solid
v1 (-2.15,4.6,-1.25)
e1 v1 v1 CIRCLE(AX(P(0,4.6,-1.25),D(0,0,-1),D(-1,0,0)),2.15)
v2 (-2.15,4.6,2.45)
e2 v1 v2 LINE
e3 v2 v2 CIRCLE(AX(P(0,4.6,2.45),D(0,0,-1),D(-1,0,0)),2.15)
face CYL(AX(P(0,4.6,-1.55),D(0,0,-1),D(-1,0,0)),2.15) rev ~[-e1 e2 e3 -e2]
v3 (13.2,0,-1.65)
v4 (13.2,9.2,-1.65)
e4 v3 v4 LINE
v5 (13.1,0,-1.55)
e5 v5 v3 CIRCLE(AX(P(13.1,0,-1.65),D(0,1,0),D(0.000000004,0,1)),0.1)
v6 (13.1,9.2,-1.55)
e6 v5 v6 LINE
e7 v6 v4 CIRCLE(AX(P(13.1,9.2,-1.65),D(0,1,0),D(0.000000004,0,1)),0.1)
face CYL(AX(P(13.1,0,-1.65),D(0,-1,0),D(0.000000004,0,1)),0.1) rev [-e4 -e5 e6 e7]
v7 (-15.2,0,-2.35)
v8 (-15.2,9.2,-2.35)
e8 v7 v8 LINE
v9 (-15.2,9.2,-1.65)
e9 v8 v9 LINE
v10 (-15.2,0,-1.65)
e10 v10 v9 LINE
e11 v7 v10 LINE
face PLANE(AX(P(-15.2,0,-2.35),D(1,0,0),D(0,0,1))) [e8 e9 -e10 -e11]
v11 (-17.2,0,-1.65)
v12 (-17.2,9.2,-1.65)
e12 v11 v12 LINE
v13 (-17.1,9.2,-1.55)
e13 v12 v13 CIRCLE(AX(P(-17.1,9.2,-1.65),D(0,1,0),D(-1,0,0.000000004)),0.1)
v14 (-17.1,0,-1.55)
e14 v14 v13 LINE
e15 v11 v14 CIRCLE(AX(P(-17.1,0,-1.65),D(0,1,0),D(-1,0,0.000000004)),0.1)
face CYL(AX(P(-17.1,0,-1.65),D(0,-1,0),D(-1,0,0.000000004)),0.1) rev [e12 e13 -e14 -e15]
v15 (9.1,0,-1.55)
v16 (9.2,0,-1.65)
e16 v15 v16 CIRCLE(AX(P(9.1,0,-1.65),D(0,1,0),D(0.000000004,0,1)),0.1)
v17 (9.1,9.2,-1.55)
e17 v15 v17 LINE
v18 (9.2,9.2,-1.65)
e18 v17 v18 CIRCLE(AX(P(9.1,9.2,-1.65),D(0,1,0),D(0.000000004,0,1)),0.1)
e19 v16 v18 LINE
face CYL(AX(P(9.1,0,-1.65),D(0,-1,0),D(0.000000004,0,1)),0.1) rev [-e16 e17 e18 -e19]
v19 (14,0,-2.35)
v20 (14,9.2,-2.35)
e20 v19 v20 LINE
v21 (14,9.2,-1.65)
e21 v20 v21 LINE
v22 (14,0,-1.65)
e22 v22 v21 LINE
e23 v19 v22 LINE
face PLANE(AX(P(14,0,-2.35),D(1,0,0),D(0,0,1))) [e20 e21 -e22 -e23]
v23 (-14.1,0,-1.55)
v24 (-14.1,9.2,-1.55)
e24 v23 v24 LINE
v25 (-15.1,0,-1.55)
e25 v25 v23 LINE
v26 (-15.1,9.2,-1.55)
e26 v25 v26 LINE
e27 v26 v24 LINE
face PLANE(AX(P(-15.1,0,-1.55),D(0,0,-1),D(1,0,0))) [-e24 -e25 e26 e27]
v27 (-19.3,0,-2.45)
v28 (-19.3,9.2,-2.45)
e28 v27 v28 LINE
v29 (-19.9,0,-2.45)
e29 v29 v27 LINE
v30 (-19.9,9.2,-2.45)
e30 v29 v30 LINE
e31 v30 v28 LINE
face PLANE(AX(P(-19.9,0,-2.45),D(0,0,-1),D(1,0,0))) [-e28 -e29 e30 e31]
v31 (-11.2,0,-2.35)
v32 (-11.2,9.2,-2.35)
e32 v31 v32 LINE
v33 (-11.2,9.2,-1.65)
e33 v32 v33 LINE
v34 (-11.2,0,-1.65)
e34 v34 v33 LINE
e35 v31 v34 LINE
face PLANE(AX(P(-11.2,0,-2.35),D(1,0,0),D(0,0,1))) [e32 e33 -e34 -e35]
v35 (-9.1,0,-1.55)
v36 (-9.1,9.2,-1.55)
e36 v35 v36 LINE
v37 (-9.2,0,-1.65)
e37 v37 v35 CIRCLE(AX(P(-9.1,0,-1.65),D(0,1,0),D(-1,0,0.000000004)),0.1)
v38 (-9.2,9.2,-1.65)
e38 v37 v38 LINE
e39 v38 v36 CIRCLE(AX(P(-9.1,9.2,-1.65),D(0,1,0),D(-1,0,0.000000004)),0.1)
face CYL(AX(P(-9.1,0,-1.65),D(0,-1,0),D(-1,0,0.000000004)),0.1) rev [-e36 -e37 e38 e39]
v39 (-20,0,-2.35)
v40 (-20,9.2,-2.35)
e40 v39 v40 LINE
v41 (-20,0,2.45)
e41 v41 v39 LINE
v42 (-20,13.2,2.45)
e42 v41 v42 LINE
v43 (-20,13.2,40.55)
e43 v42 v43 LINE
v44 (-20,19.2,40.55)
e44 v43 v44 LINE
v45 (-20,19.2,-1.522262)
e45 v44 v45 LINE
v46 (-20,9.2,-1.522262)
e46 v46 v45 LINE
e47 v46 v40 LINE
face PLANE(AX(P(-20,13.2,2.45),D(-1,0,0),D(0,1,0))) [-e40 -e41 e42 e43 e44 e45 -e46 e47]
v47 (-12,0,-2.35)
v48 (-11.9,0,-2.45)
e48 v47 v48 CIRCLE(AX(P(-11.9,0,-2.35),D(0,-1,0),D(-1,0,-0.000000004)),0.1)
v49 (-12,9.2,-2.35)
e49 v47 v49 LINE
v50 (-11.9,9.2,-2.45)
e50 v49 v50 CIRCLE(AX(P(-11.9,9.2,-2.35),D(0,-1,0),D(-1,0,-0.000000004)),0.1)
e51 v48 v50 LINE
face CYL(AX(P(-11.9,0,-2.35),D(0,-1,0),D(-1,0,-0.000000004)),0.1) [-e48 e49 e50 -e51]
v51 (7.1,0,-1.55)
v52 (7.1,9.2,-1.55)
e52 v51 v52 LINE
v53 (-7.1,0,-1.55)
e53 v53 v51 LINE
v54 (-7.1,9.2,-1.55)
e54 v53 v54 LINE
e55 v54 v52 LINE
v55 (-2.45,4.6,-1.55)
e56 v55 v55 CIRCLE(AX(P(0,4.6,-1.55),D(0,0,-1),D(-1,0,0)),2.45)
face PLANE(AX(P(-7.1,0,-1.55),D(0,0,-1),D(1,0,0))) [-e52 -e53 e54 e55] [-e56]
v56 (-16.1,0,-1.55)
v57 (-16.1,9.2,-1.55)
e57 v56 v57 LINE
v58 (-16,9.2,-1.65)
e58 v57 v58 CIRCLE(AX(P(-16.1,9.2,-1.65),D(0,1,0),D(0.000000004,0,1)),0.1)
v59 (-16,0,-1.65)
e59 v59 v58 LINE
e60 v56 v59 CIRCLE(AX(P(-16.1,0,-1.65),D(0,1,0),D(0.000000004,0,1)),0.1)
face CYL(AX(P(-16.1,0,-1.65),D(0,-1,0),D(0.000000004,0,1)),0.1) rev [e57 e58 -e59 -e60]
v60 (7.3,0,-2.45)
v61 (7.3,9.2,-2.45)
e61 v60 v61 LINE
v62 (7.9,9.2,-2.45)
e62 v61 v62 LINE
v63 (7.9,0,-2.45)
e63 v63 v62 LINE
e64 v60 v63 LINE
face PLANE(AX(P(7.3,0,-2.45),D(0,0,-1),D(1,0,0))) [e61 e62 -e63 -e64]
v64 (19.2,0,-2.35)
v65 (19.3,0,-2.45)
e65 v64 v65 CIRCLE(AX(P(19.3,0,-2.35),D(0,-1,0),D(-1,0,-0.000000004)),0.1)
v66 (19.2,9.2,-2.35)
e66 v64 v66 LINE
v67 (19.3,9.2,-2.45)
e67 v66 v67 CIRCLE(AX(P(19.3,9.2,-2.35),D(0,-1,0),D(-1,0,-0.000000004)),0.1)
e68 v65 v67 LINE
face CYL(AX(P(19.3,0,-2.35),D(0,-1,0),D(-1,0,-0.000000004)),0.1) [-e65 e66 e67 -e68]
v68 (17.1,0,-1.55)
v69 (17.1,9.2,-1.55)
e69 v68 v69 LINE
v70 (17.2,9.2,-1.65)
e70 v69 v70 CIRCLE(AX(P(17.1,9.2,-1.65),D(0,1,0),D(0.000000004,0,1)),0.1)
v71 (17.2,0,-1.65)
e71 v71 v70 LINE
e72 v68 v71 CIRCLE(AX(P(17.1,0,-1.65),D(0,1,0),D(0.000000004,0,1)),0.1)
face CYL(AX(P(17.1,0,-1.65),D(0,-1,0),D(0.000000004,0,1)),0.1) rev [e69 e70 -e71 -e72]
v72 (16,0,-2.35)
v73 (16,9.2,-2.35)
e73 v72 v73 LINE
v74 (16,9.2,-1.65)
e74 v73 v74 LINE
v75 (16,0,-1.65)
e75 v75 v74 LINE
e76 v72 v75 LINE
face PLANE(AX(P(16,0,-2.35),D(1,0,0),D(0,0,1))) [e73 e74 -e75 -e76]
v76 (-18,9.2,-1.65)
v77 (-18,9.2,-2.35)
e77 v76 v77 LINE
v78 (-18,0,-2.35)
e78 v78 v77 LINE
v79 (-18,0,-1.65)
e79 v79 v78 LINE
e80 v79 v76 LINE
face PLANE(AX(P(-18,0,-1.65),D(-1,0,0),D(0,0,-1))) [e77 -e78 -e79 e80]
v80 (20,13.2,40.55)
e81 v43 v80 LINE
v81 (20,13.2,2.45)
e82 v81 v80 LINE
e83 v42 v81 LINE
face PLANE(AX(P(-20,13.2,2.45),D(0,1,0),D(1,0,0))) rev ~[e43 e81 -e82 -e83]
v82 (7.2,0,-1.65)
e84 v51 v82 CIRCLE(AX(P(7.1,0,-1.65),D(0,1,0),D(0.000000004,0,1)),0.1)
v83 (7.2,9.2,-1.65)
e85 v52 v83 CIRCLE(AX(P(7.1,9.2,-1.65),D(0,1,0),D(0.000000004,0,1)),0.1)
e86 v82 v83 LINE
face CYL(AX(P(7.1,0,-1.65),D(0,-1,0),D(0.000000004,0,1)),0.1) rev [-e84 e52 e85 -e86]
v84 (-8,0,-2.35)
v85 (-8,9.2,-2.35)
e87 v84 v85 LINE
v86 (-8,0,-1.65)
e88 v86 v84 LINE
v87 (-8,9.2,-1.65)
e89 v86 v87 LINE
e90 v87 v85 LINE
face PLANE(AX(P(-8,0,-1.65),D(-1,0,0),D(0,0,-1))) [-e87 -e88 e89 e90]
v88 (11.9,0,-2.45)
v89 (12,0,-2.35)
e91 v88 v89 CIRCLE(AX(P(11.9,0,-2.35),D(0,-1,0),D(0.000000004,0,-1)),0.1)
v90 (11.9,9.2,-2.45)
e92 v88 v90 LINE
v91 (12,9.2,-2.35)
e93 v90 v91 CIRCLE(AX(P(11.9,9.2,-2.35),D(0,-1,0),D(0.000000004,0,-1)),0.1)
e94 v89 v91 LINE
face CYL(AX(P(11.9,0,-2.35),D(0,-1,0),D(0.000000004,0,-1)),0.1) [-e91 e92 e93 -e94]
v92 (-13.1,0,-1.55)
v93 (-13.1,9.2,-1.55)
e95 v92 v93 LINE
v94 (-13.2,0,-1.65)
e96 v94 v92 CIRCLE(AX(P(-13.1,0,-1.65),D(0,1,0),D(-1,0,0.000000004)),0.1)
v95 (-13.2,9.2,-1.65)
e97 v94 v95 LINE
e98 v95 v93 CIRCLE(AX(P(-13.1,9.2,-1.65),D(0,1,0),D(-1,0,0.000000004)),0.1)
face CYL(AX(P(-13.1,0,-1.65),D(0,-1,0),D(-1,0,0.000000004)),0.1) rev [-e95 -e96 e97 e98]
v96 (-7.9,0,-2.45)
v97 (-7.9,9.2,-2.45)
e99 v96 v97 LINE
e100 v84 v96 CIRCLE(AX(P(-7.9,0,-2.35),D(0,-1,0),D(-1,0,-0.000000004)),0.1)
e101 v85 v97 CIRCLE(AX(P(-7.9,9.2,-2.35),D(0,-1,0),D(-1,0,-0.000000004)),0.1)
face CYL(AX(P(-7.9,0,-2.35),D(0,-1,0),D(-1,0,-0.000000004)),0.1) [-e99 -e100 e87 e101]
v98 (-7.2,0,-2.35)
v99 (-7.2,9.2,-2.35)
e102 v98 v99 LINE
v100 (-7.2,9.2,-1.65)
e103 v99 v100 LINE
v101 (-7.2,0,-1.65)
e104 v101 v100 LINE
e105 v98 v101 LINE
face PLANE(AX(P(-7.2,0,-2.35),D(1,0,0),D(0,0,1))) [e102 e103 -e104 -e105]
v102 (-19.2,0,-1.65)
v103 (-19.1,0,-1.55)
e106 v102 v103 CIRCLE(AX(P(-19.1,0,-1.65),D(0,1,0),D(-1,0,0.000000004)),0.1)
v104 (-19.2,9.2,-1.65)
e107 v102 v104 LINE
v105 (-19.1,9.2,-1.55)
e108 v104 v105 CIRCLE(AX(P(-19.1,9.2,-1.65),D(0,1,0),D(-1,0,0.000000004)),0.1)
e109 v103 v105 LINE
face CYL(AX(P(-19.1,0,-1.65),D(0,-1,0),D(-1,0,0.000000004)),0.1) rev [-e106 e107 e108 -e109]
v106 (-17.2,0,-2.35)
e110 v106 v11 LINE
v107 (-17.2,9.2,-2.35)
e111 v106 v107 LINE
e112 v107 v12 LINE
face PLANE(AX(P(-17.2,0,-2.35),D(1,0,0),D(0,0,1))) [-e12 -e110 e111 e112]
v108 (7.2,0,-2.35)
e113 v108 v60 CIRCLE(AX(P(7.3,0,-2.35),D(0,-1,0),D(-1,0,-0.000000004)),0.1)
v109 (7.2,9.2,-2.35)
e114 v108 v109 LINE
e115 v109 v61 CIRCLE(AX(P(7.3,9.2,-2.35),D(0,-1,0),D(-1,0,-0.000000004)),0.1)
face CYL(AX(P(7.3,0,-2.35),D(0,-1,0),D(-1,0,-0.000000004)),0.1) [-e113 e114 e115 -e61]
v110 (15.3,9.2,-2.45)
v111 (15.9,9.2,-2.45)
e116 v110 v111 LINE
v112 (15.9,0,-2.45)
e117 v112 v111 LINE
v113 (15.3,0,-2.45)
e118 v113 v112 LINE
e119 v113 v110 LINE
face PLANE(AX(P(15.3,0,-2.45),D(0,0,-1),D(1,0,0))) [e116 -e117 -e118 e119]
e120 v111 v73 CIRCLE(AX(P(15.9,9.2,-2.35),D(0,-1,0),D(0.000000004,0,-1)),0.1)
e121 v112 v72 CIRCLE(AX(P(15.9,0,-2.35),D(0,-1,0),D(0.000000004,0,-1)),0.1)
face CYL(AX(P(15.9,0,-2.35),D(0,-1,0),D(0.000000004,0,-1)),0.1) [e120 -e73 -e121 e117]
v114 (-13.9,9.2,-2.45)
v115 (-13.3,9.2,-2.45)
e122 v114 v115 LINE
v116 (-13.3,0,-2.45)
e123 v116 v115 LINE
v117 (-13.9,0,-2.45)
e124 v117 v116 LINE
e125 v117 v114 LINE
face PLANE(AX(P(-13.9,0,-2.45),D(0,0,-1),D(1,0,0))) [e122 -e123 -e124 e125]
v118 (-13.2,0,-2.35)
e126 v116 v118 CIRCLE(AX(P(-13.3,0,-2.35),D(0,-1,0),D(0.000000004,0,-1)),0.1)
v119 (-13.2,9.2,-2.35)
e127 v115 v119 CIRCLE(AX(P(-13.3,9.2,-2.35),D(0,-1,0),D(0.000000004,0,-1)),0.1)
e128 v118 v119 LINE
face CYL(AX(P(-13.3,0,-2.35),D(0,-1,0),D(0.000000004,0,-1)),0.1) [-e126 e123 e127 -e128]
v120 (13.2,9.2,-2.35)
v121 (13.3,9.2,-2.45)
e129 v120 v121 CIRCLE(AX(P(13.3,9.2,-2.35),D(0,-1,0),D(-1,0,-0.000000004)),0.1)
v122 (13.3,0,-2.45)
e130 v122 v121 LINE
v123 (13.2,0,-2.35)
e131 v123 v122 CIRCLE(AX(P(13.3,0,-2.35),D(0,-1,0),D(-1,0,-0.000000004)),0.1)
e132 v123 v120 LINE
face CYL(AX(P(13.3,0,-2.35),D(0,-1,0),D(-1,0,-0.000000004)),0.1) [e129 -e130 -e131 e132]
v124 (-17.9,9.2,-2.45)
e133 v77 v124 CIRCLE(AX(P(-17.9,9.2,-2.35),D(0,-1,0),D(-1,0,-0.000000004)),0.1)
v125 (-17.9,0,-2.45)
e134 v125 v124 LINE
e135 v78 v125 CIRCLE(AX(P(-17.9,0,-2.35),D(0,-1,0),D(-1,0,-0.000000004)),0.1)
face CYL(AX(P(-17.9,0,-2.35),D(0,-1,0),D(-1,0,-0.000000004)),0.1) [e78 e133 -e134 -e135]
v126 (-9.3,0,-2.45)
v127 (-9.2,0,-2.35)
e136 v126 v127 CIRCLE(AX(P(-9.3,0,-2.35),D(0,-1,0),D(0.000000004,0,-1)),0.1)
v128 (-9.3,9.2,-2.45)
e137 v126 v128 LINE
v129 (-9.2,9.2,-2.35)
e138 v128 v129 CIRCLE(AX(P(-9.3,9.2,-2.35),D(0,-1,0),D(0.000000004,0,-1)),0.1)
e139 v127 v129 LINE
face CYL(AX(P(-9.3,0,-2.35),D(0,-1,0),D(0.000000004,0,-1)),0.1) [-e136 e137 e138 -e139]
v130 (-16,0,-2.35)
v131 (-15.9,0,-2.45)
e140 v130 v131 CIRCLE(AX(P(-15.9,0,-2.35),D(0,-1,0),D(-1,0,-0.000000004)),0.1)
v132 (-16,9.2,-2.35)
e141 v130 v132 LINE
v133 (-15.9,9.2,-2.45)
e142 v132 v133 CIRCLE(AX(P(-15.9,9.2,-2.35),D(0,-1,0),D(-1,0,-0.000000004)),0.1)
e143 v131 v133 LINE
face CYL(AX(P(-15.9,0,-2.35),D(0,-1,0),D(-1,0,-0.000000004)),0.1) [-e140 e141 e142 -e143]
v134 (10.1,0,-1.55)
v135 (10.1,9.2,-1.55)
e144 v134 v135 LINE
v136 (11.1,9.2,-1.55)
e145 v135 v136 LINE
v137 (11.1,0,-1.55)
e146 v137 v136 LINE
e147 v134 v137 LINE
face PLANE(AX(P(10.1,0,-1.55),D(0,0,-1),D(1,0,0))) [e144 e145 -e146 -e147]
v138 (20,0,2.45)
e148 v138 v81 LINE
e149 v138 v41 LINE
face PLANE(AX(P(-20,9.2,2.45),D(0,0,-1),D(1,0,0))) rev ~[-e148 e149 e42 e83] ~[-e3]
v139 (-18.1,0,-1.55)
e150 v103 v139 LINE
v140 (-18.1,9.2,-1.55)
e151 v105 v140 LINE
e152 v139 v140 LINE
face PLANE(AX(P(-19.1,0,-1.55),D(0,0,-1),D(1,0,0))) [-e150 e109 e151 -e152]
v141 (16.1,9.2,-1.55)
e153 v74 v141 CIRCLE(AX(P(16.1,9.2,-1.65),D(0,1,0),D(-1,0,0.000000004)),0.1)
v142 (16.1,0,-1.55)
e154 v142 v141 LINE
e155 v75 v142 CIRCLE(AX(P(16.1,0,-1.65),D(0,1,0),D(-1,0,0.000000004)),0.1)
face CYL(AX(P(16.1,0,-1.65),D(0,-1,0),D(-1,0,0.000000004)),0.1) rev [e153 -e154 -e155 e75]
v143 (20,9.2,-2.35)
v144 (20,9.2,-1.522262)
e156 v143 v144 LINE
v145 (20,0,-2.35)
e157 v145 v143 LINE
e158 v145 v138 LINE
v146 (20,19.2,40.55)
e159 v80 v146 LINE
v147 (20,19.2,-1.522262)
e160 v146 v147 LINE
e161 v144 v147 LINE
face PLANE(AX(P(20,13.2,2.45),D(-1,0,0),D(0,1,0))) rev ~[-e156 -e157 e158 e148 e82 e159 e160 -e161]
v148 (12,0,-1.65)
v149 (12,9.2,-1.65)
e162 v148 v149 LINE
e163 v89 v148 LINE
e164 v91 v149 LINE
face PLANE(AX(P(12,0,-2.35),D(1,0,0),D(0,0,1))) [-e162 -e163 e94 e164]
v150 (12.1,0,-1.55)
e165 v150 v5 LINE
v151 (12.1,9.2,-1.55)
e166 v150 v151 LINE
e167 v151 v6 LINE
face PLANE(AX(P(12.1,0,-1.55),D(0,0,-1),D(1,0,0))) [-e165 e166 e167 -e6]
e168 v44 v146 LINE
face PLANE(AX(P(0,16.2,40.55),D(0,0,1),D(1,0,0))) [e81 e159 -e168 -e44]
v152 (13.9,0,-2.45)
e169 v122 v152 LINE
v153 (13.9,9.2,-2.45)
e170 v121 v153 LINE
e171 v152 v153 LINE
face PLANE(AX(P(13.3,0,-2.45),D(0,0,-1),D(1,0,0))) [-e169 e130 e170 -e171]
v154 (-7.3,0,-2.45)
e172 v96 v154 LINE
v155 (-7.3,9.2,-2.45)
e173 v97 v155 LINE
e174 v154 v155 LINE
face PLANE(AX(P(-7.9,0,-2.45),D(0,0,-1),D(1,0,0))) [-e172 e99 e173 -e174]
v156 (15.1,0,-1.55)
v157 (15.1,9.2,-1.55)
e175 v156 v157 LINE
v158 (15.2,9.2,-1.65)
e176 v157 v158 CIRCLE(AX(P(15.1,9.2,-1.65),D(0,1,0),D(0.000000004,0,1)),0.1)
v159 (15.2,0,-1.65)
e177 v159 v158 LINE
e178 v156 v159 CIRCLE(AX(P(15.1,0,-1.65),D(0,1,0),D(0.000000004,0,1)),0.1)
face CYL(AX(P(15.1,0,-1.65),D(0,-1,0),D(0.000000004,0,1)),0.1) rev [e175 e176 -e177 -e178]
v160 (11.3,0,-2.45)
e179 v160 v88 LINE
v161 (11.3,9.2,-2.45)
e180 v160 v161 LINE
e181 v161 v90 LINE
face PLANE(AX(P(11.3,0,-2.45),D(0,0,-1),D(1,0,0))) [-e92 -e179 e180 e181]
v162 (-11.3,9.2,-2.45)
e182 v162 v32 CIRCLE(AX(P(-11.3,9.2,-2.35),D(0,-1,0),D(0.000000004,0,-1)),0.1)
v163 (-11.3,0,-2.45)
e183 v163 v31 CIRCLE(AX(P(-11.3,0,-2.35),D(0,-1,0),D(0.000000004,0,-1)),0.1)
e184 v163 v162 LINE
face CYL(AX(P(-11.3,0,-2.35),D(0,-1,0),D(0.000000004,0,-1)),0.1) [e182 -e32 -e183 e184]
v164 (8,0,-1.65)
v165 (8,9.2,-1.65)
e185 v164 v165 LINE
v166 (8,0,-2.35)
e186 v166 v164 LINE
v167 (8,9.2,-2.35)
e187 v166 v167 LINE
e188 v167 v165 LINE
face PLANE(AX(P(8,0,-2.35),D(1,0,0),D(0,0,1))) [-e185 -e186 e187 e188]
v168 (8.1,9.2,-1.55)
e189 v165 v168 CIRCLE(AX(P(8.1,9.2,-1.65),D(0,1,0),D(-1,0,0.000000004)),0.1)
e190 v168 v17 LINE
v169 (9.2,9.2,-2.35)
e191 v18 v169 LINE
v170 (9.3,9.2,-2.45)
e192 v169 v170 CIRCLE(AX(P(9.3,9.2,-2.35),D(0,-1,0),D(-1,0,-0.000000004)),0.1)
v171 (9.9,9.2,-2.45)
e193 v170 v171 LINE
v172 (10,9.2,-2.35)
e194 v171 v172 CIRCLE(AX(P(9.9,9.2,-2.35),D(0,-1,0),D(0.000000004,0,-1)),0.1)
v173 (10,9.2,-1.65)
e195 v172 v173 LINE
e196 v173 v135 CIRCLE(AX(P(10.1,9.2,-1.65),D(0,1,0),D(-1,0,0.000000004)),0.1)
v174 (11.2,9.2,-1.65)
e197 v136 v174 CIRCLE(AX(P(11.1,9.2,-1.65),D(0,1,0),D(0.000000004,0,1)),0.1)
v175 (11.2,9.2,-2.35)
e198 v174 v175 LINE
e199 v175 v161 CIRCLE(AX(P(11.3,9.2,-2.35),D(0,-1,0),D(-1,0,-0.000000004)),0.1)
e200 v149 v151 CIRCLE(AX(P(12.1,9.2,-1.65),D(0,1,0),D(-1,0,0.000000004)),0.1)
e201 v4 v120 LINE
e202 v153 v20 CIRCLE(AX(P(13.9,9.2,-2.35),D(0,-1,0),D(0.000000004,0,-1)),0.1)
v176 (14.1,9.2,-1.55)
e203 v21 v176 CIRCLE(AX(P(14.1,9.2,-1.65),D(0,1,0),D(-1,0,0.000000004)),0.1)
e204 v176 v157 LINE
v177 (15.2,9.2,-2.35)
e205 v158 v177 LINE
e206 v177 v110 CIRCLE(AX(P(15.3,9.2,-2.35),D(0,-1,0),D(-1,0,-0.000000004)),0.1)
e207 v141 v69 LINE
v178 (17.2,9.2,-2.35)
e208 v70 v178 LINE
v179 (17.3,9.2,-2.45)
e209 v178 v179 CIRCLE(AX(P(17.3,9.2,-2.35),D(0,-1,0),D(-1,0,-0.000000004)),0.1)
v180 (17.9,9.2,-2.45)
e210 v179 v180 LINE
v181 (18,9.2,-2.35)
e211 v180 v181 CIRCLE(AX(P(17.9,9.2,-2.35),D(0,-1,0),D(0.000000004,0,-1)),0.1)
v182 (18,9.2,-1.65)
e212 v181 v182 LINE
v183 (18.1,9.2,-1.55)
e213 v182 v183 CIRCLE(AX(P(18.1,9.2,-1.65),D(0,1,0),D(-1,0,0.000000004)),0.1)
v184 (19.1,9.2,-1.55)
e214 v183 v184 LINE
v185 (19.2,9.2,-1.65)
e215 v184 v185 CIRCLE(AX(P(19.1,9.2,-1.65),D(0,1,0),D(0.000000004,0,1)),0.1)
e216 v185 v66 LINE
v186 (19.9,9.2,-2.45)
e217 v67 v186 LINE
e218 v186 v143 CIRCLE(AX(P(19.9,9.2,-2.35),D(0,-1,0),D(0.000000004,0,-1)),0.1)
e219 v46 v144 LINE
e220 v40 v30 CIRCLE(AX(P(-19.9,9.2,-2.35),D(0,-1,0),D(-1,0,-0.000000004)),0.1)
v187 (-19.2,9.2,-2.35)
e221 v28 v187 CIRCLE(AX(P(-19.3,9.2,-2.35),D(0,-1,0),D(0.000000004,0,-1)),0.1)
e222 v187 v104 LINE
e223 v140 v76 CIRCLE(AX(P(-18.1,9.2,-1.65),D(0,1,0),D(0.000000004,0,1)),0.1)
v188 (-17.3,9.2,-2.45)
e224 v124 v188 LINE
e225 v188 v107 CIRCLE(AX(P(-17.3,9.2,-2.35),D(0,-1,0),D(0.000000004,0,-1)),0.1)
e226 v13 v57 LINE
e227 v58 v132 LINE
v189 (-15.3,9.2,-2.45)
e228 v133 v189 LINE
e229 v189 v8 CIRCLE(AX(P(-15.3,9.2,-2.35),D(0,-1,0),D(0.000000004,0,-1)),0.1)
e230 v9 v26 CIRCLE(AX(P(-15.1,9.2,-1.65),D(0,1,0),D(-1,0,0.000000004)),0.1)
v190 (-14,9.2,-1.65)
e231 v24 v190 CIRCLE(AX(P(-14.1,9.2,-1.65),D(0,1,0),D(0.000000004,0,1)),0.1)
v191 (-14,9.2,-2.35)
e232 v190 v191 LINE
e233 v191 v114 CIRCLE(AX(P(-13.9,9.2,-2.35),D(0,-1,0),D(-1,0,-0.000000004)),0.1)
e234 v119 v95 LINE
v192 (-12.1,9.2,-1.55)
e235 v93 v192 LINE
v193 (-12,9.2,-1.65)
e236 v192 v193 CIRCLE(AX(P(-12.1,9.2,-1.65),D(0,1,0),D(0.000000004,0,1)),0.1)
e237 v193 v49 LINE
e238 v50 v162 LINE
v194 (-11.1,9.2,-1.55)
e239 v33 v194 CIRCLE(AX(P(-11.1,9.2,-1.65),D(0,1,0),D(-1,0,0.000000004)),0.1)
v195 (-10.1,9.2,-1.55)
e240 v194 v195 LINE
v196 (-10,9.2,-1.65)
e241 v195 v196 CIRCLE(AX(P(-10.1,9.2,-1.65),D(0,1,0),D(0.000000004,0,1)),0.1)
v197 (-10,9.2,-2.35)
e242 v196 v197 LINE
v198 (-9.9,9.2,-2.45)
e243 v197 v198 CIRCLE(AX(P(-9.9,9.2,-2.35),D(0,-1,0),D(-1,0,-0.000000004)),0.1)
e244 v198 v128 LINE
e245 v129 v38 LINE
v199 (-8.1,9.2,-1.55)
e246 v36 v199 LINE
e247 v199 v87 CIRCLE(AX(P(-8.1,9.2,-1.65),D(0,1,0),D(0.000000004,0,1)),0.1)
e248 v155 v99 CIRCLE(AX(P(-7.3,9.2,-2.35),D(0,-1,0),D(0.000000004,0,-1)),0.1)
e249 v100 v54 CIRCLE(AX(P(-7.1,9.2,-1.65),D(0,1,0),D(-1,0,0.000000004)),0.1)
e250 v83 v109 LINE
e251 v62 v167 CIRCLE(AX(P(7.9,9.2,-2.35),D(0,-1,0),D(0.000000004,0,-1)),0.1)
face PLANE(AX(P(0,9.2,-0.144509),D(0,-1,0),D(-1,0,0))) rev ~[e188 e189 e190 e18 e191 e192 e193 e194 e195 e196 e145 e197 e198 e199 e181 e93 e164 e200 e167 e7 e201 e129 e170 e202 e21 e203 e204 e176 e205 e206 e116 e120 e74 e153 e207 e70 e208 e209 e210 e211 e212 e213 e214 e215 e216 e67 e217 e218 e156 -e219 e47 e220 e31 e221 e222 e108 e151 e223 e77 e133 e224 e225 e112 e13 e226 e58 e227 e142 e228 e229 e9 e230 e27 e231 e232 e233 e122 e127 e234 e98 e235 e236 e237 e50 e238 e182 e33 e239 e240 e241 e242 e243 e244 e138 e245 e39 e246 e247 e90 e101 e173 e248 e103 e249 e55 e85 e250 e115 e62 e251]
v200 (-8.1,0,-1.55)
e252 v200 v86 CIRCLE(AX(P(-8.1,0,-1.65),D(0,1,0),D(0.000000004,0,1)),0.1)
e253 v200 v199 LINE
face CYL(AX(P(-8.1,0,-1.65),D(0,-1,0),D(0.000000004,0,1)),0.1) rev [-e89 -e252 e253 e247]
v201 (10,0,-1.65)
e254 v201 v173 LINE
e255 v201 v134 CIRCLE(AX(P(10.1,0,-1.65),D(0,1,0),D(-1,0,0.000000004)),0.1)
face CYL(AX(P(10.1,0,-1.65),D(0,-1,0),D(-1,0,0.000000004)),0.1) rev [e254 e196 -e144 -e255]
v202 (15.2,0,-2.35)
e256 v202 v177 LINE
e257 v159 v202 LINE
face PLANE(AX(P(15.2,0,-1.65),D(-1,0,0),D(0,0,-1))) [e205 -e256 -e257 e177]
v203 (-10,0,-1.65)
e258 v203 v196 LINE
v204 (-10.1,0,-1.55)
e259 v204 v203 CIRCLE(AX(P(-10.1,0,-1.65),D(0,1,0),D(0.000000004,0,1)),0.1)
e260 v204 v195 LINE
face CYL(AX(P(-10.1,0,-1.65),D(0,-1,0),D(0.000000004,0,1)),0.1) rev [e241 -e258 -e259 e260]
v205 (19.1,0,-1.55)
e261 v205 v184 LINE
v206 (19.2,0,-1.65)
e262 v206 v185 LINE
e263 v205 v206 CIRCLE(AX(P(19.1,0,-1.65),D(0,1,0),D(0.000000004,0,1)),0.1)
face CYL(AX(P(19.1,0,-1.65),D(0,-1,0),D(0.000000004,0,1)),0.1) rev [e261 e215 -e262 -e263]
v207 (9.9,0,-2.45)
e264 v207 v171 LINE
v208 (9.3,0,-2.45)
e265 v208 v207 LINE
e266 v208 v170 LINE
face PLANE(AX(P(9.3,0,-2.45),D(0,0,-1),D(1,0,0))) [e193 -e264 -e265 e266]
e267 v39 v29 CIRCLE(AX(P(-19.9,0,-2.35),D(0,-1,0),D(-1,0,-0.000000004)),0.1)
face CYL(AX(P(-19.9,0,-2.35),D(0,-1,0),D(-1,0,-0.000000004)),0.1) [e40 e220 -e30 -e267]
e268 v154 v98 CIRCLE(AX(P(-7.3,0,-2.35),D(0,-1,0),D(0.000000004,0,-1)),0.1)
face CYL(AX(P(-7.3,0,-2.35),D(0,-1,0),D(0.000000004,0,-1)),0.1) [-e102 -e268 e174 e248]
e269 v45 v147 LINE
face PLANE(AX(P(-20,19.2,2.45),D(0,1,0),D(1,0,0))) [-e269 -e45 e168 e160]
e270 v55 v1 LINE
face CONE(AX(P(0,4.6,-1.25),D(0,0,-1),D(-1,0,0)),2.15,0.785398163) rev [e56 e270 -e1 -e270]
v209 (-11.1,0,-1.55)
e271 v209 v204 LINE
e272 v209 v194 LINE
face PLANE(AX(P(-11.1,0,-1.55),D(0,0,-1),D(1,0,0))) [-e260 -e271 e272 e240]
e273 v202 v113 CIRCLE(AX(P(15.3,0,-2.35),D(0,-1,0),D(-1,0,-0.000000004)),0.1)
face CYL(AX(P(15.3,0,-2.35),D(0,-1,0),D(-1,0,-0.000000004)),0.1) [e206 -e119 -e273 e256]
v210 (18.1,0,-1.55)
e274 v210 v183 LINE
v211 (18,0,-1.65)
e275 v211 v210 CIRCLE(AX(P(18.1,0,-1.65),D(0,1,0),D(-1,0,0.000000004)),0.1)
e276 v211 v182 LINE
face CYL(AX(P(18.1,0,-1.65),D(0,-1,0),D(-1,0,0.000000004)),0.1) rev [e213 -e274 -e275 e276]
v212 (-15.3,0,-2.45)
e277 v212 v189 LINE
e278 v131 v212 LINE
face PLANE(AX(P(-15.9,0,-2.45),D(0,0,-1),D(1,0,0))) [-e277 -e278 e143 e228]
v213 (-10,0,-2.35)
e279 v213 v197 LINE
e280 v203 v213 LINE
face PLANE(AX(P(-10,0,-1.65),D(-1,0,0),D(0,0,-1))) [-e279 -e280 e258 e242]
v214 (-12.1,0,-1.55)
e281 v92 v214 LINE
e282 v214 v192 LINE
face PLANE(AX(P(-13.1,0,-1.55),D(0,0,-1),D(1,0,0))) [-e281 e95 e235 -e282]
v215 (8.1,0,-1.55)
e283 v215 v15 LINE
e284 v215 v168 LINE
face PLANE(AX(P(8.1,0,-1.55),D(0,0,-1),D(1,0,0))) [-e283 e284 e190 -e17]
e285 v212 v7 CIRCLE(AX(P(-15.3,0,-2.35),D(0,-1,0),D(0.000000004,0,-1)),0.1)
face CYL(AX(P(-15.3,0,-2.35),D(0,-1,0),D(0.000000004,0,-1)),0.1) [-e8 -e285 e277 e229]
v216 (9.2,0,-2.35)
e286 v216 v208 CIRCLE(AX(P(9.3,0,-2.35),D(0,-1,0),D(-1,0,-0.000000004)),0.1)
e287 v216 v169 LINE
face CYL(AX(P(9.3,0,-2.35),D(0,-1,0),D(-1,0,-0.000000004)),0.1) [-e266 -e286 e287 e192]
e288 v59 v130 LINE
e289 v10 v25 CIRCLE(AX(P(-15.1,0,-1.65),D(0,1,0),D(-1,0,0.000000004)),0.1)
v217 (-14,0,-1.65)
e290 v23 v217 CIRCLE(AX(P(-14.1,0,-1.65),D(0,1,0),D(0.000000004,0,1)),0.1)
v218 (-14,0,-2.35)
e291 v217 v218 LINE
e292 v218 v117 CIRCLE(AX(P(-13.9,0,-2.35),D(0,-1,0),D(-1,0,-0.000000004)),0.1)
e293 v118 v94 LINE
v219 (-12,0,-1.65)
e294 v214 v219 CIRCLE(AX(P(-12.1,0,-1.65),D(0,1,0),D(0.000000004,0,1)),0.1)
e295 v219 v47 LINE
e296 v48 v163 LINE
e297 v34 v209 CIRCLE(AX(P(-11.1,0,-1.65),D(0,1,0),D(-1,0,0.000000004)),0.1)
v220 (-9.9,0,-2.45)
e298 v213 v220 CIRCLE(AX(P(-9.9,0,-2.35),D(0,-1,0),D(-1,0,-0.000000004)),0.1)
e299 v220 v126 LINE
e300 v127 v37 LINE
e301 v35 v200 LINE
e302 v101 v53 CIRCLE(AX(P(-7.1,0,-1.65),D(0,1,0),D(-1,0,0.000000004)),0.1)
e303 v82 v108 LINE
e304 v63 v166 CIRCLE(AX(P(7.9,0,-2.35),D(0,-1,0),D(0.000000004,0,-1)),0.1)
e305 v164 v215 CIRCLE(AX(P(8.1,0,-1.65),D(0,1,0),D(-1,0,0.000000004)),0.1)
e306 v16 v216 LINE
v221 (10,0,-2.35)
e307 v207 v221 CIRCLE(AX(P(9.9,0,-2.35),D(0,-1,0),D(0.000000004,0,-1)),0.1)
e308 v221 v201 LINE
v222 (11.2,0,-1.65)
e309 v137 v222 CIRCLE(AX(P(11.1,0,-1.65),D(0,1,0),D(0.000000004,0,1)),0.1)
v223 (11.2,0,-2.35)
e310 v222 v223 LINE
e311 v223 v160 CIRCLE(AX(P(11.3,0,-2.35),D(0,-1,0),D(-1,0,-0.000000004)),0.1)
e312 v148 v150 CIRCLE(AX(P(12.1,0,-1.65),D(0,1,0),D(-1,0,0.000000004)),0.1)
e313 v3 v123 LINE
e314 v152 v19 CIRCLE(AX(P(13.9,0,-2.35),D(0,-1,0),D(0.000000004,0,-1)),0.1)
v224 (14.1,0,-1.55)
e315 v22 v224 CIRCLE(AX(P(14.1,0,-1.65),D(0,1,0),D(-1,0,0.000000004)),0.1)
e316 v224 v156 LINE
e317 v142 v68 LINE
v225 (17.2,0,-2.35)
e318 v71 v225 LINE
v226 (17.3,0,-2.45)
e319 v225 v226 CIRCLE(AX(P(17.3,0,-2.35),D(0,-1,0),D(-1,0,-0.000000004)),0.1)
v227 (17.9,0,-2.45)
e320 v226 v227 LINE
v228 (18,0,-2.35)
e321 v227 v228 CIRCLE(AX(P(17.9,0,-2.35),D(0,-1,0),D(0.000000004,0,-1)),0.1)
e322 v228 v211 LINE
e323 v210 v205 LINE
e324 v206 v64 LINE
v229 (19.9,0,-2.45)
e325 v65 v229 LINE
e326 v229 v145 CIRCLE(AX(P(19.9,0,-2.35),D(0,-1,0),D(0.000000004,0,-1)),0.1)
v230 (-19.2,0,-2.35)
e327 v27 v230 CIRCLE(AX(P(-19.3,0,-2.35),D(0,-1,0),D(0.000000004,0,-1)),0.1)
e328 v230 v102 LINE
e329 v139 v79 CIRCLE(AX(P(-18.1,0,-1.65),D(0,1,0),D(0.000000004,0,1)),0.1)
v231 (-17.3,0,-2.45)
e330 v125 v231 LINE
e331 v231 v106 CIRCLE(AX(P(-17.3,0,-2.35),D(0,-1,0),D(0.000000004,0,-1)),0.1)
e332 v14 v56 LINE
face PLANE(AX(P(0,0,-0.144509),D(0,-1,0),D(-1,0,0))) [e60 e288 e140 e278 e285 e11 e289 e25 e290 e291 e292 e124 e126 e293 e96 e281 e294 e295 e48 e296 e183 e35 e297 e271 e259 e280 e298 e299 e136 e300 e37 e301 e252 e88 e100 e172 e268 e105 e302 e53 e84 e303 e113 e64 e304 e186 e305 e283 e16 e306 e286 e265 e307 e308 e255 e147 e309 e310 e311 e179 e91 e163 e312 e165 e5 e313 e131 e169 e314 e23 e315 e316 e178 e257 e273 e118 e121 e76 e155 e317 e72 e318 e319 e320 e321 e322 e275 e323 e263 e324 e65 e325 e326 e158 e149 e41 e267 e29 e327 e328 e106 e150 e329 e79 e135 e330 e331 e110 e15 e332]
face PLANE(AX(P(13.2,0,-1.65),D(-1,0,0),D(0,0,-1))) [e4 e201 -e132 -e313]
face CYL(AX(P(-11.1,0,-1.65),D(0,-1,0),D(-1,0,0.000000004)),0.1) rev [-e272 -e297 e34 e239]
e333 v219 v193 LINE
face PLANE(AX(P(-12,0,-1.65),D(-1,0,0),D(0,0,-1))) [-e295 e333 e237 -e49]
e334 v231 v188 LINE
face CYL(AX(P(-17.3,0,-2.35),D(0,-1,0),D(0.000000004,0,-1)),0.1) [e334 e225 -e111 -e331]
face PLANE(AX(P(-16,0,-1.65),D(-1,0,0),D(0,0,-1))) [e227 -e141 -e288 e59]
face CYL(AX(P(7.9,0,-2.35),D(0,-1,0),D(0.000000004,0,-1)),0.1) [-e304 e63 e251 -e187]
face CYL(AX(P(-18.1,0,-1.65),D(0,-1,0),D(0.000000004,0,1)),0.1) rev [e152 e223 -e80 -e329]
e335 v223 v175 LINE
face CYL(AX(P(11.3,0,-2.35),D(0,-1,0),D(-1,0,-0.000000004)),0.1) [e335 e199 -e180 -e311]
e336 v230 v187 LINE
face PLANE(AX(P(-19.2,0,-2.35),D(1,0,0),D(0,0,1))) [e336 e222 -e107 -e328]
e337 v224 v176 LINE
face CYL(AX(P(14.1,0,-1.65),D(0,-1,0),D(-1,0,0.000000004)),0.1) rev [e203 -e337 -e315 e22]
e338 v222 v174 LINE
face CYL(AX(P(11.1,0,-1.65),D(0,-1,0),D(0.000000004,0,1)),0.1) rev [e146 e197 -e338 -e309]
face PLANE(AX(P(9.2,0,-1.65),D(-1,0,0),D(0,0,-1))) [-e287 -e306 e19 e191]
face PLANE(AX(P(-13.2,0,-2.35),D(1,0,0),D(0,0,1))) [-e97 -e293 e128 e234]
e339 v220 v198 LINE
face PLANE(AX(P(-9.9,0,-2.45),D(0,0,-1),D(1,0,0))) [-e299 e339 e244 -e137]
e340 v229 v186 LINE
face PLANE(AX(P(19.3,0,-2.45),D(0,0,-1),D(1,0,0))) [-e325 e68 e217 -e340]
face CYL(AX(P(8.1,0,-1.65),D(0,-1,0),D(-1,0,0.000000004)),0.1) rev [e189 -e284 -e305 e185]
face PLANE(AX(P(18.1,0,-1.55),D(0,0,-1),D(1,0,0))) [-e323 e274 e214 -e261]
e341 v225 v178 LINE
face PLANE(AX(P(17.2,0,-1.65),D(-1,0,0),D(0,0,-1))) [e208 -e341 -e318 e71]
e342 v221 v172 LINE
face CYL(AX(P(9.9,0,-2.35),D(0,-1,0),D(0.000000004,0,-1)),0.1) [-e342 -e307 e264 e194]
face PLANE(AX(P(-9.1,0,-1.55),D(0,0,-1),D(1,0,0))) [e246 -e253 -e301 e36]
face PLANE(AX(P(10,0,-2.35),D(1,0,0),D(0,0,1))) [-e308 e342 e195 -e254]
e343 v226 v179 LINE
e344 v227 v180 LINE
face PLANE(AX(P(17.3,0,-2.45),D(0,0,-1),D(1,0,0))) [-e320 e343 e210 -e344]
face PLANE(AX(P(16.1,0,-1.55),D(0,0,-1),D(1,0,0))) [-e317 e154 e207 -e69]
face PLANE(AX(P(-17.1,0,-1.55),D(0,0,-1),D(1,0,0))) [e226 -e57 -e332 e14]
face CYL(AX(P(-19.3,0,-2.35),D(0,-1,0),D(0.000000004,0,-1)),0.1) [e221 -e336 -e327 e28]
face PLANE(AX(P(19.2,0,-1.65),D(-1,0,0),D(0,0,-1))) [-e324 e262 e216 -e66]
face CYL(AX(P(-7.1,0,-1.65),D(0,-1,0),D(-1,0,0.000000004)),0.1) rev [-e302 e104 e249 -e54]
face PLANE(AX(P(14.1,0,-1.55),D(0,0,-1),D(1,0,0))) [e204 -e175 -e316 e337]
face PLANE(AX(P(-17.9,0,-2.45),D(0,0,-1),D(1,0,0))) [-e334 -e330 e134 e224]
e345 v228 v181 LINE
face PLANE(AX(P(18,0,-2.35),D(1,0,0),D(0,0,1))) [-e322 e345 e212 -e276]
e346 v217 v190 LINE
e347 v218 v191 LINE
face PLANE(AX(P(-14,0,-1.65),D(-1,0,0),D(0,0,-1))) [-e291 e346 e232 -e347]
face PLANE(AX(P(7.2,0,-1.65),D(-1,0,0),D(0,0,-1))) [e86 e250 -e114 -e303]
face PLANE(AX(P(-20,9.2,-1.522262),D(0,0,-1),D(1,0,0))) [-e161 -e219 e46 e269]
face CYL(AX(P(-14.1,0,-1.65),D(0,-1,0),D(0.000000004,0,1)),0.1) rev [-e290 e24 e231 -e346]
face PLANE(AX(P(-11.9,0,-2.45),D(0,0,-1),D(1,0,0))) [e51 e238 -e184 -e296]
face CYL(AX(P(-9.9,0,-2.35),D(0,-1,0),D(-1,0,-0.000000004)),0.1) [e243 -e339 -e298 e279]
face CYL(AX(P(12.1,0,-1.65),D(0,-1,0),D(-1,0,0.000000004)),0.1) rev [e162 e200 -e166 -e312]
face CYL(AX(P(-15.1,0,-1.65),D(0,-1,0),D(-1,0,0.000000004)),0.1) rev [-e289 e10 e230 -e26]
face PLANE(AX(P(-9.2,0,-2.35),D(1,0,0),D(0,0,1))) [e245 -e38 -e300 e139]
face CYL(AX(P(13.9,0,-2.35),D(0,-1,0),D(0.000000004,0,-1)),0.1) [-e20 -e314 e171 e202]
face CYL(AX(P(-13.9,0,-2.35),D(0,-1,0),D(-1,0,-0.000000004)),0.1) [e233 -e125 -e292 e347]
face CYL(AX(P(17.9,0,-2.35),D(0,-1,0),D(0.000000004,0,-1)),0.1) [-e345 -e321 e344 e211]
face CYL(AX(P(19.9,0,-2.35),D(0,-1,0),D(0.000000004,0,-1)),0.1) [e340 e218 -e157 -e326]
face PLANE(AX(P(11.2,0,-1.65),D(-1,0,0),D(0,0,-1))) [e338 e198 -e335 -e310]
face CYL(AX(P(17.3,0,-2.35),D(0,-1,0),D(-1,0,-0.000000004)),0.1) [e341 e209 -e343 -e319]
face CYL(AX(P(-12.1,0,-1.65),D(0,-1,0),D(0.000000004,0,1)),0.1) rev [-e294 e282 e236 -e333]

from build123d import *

# Parameters (mm, degrees)
RESSALTO_EXTRUS_O2_DEPTH = 9.2
ESBO_O5_R                = 2.15
CORTE_EXTRUS_O2_DEPTH    = 9.2
CHANFRO2_SIZE            = 0.3
SKETCH1_W                = 40
SKETCH1_H                = 3.972261678
BOSS_EXTRUDE1_DEPTH      = 10
SKETCH2_W                = 40
SKETCH2_H                = 6
BOSS_EXTRUDE2_DEPTH      = 38.1


with BuildPart() as part:
    # Esboço4 → Ressalto-extrusão2 (new body)
    with BuildSketch(Plane(origin=(0, 0, 0), x_dir=(1, 0, 0), z_dir=(0, 1, 0))):
        with BuildLine():
            Line((-19.2, 2.35), (-19.2, 1.65))
            ThreePointArc((-19.2, 1.65), (-19.170710678, 1.579289322), (-19.1, 1.55))
            Line((-19.1, 1.55), (-18.1, 1.55))
            ThreePointArc((-18.1, 1.55), (-18.029289322, 1.579289322), (-18, 1.65))
            Line((-18, 1.65), (-18, 2.35))
            ThreePointArc((-18, 2.35), (-17.970710678, 2.420710678), (-17.9, 2.45))
            Line((-17.9, 2.45), (-17.3, 2.45))
            ThreePointArc((-17.3, 2.45), (-17.229289322, 2.420710678), (-17.2, 2.35))
            Line((-17.2, 2.35), (-17.2, 1.65))
            ThreePointArc((-17.2, 1.65), (-17.170710678, 1.579289322), (-17.1, 1.55))
            Line((-17.1, 1.55), (-16.1, 1.55))
            ThreePointArc((-16.1, 1.55), (-16.029289322, 1.579289322), (-16, 1.65))
            Line((-16, 1.65), (-16, 2.35))
            ThreePointArc((-16, 2.35), (-15.970710678, 2.420710678), (-15.9, 2.45))
            Line((-15.9, 2.45), (-15.3, 2.45))
            ThreePointArc((-15.3, 2.45), (-15.229289322, 2.420710678), (-15.2, 2.35))
            Line((-15.2, 2.35), (-15.2, 1.65))
            ThreePointArc((-15.2, 1.65), (-15.170710678, 1.579289322), (-15.1, 1.55))
            Line((-15.1, 1.55), (-14.1, 1.55))
            ThreePointArc((-14.1, 1.55), (-14.029289322, 1.579289322), (-14, 1.65))
            Line((-14, 1.65), (-14, 2.35))
            ThreePointArc((-14, 2.35), (-13.970710678, 2.420710678), (-13.9, 2.45))
            Line((-13.9, 2.45), (-13.3, 2.45))
            ThreePointArc((-13.3, 2.45), (-13.229289322, 2.420710678), (-13.2, 2.35))
            Line((-13.2, 2.35), (-13.2, 1.65))
            ThreePointArc((-13.2, 1.65), (-13.170710678, 1.579289322), (-13.1, 1.55))
            Line((-13.1, 1.55), (-12.1, 1.55))
            ThreePointArc((-12.1, 1.55), (-12.029289322, 1.579289322), (-12, 1.65))
            Line((-12, 1.65), (-12, 2.35))
            ThreePointArc((-12, 2.35), (-11.970710678, 2.420710678), (-11.9, 2.45))
            Line((-11.9, 2.45), (-11.3, 2.45))
            ThreePointArc((-11.3, 2.45), (-11.229289322, 2.420710678), (-11.2, 2.35))
            Line((-11.2, 2.35), (-11.2, 1.65))
            ThreePointArc((-11.2, 1.65), (-11.170710678, 1.579289322), (-11.1, 1.55))
            Line((-11.1, 1.55), (-10.1, 1.55))
            ThreePointArc((-10.1, 1.55), (-10.029289322, 1.579289322), (-10, 1.65))
            Line((-10, 1.65), (-10, 2.35))
            ThreePointArc((-10, 2.35), (-9.970710678, 2.420710678), (-9.9, 2.45))
            Line((-9.9, 2.45), (-9.3, 2.45))
            ThreePointArc((-9.3, 2.45), (-9.229289322, 2.420710678), (-9.2, 2.35))
            Line((-9.2, 2.35), (-9.2, 1.65))
            ThreePointArc((-9.2, 1.65), (-9.170710678, 1.579289322), (-9.1, 1.55))
            Line((-9.1, 1.55), (-8.1, 1.55))
            ThreePointArc((-8.1, 1.55), (-8.029289322, 1.579289322), (-8, 1.65))
            Line((-8, 1.65), (-8, 2.35))
            ThreePointArc((-8, 2.35), (-7.970710678, 2.420710678), (-7.9, 2.45))
            Line((-7.9, 2.45), (-7.3, 2.45))
            ThreePointArc((-7.3, 2.45), (-7.229289322, 2.420710678), (-7.2, 2.35))
            Line((-7.2, 2.35), (-7.2, 1.65))
            ThreePointArc((-7.2, 1.65), (-7.170710678, 1.579289322), (-7.1, 1.55))
            Line((-7.1, 1.55), (7.1, 1.55))
            ThreePointArc((7.1, 1.55), (7.170710678, 1.579289322), (7.2, 1.65))
            Line((7.2, 1.65), (7.2, 2.35))
            ThreePointArc((7.2, 2.35), (7.229289322, 2.420710678), (7.3, 2.45))
            Line((7.3, 2.45), (7.9, 2.45))
            ThreePointArc((7.9, 2.45), (7.970710678, 2.420710678), (8, 2.35))
            Line((8, 2.35), (8, 1.65))
            ThreePointArc((8, 1.65), (8.029289322, 1.579289322), (8.1, 1.55))
            Line((8.1, 1.55), (9.1, 1.55))
            ThreePointArc((9.1, 1.55), (9.170710678, 1.579289322), (9.2, 1.65))
            Line((9.2, 1.65), (9.2, 2.35))
            ThreePointArc((9.2, 2.35), (9.229289322, 2.420710678), (9.3, 2.45))
            Line((9.3, 2.45), (9.9, 2.45))
            ThreePointArc((9.9, 2.45), (9.970710678, 2.420710678), (10, 2.35))
            Line((10, 2.35), (10, 1.65))
            ThreePointArc((10, 1.65), (10.029289322, 1.579289322), (10.1, 1.55))
            Line((10.1, 1.55), (11.1, 1.55))
            ThreePointArc((11.1, 1.55), (11.170710678, 1.579289322), (11.2, 1.65))
            Line((11.2, 1.65), (11.2, 2.35))
            ThreePointArc((11.2, 2.35), (11.229289322, 2.420710678), (11.3, 2.45))
            Line((11.3, 2.45), (11.9, 2.45))
            ThreePointArc((11.9, 2.45), (11.970710678, 2.420710678), (12, 2.35))
            Line((12, 2.35), (12, 1.65))
            ThreePointArc((12, 1.65), (12.029289322, 1.579289322), (12.1, 1.55))
            Line((12.1, 1.55), (13.1, 1.55))
            ThreePointArc((13.1, 1.55), (13.170710678, 1.579289322), (13.2, 1.65))
            Line((13.2, 1.65), (13.2, 2.35))
            ThreePointArc((13.2, 2.35), (13.229289322, 2.420710678), (13.3, 2.45))
            Line((13.3, 2.45), (13.9, 2.45))
            ThreePointArc((13.9, 2.45), (13.970710678, 2.420710678), (14, 2.35))
            Line((14, 2.35), (14, 1.65))
            ThreePointArc((14, 1.65), (14.029289322, 1.579289322), (14.1, 1.55))
            Line((14.1, 1.55), (15.1, 1.55))
            ThreePointArc((15.1, 1.55), (15.170710678, 1.579289322), (15.2, 1.65))
            Line((15.2, 1.65), (15.2, 2.35))
            ThreePointArc((15.2, 2.35), (15.229289322, 2.420710678), (15.3, 2.45))
            Line((15.3, 2.45), (15.9, 2.45))
            ThreePointArc((15.9, 2.45), (15.970710678, 2.420710678), (16, 2.35))
            Line((16, 2.35), (16, 1.65))
            ThreePointArc((16, 1.65), (16.029289322, 1.579289322), (16.1, 1.55))
            Line((16.1, 1.55), (17.1, 1.55))
            ThreePointArc((17.1, 1.55), (17.170710678, 1.579289322), (17.2, 1.65))
            Line((17.2, 1.65), (17.2, 2.35))
            ThreePointArc((17.2, 2.35), (17.229289322, 2.420710678), (17.3, 2.45))
            Line((17.3, 2.45), (17.9, 2.45))
            ThreePointArc((17.9, 2.45), (17.970710678, 2.420710678), (18, 2.35))
            Line((18, 2.35), (18, 1.65))
            ThreePointArc((18, 1.65), (18.029289322, 1.579289322), (18.1, 1.55))
            Line((18.1, 1.55), (19.1, 1.55))
            ThreePointArc((19.1, 1.55), (19.170710678, 1.579289322), (19.2, 1.65))
            Line((19.2, 1.65), (19.2, 2.35))
            ThreePointArc((19.2, 2.35), (19.229289322, 2.420710678), (19.3, 2.45))
            Line((19.3, 2.45), (19.9, 2.45))
            ThreePointArc((19.9, 2.45), (19.970710678, 2.420710678), (20, 2.35))
            Line((20, 2.35), (20, -2.45))
            Line((20, -2.45), (-20, -2.45))
            Line((-20, -2.45), (-20, 2.35))
            ThreePointArc((-20, 2.35), (-19.970710678, 2.420710678), (-19.9, 2.45))
            Line((-19.9, 2.45), (-19.3, 2.45))
            ThreePointArc((-19.3, 2.45), (-19.229289322, 2.420710678), (-19.2, 2.35))
        make_face()
    extrude(amount=RESSALTO_EXTRUS_O2_DEPTH)

    # Esboço5 → Corte-extrusão2 (cut)
    with BuildSketch(Plane(origin=(0, 0, -1.55), x_dir=(-1, 0, 0), z_dir=(0, 0, -1))):
        with Locations((0, 4.6)):
            Circle(ESBO_O5_R)
    extrude(amount=-CORTE_EXTRUS_O2_DEPTH, mode=Mode.SUBTRACT)

    # Chanfro2
    chanfro2_edges = [part.edges().sort_by_distance(p)[0] for p in [
        (2.15, 4.6, -1.55),
    ]]
    chamfer(chanfro2_edges, length=CHANFRO2_SIZE)

    # Sketch1 → Boss-Extrude1 (add)
    with BuildSketch(Plane(origin=(0, 9.2, 0), x_dir=(1, 0, 0), z_dir=(0, 1, 0))):
        with Locations((0, -0.463869161)):
            Rectangle(SKETCH1_W, SKETCH1_H)
    extrude(amount=BOSS_EXTRUDE1_DEPTH)

    # Sketch2 → Boss-Extrude2 (add)
    with BuildSketch(Plane.XY.offset(2.45)):
        with Locations((0, 16.2)):
            Rectangle(SKETCH2_W, SKETCH2_H)
    extrude(amount=BOSS_EXTRUDE2_DEPTH)


solid = part.part
